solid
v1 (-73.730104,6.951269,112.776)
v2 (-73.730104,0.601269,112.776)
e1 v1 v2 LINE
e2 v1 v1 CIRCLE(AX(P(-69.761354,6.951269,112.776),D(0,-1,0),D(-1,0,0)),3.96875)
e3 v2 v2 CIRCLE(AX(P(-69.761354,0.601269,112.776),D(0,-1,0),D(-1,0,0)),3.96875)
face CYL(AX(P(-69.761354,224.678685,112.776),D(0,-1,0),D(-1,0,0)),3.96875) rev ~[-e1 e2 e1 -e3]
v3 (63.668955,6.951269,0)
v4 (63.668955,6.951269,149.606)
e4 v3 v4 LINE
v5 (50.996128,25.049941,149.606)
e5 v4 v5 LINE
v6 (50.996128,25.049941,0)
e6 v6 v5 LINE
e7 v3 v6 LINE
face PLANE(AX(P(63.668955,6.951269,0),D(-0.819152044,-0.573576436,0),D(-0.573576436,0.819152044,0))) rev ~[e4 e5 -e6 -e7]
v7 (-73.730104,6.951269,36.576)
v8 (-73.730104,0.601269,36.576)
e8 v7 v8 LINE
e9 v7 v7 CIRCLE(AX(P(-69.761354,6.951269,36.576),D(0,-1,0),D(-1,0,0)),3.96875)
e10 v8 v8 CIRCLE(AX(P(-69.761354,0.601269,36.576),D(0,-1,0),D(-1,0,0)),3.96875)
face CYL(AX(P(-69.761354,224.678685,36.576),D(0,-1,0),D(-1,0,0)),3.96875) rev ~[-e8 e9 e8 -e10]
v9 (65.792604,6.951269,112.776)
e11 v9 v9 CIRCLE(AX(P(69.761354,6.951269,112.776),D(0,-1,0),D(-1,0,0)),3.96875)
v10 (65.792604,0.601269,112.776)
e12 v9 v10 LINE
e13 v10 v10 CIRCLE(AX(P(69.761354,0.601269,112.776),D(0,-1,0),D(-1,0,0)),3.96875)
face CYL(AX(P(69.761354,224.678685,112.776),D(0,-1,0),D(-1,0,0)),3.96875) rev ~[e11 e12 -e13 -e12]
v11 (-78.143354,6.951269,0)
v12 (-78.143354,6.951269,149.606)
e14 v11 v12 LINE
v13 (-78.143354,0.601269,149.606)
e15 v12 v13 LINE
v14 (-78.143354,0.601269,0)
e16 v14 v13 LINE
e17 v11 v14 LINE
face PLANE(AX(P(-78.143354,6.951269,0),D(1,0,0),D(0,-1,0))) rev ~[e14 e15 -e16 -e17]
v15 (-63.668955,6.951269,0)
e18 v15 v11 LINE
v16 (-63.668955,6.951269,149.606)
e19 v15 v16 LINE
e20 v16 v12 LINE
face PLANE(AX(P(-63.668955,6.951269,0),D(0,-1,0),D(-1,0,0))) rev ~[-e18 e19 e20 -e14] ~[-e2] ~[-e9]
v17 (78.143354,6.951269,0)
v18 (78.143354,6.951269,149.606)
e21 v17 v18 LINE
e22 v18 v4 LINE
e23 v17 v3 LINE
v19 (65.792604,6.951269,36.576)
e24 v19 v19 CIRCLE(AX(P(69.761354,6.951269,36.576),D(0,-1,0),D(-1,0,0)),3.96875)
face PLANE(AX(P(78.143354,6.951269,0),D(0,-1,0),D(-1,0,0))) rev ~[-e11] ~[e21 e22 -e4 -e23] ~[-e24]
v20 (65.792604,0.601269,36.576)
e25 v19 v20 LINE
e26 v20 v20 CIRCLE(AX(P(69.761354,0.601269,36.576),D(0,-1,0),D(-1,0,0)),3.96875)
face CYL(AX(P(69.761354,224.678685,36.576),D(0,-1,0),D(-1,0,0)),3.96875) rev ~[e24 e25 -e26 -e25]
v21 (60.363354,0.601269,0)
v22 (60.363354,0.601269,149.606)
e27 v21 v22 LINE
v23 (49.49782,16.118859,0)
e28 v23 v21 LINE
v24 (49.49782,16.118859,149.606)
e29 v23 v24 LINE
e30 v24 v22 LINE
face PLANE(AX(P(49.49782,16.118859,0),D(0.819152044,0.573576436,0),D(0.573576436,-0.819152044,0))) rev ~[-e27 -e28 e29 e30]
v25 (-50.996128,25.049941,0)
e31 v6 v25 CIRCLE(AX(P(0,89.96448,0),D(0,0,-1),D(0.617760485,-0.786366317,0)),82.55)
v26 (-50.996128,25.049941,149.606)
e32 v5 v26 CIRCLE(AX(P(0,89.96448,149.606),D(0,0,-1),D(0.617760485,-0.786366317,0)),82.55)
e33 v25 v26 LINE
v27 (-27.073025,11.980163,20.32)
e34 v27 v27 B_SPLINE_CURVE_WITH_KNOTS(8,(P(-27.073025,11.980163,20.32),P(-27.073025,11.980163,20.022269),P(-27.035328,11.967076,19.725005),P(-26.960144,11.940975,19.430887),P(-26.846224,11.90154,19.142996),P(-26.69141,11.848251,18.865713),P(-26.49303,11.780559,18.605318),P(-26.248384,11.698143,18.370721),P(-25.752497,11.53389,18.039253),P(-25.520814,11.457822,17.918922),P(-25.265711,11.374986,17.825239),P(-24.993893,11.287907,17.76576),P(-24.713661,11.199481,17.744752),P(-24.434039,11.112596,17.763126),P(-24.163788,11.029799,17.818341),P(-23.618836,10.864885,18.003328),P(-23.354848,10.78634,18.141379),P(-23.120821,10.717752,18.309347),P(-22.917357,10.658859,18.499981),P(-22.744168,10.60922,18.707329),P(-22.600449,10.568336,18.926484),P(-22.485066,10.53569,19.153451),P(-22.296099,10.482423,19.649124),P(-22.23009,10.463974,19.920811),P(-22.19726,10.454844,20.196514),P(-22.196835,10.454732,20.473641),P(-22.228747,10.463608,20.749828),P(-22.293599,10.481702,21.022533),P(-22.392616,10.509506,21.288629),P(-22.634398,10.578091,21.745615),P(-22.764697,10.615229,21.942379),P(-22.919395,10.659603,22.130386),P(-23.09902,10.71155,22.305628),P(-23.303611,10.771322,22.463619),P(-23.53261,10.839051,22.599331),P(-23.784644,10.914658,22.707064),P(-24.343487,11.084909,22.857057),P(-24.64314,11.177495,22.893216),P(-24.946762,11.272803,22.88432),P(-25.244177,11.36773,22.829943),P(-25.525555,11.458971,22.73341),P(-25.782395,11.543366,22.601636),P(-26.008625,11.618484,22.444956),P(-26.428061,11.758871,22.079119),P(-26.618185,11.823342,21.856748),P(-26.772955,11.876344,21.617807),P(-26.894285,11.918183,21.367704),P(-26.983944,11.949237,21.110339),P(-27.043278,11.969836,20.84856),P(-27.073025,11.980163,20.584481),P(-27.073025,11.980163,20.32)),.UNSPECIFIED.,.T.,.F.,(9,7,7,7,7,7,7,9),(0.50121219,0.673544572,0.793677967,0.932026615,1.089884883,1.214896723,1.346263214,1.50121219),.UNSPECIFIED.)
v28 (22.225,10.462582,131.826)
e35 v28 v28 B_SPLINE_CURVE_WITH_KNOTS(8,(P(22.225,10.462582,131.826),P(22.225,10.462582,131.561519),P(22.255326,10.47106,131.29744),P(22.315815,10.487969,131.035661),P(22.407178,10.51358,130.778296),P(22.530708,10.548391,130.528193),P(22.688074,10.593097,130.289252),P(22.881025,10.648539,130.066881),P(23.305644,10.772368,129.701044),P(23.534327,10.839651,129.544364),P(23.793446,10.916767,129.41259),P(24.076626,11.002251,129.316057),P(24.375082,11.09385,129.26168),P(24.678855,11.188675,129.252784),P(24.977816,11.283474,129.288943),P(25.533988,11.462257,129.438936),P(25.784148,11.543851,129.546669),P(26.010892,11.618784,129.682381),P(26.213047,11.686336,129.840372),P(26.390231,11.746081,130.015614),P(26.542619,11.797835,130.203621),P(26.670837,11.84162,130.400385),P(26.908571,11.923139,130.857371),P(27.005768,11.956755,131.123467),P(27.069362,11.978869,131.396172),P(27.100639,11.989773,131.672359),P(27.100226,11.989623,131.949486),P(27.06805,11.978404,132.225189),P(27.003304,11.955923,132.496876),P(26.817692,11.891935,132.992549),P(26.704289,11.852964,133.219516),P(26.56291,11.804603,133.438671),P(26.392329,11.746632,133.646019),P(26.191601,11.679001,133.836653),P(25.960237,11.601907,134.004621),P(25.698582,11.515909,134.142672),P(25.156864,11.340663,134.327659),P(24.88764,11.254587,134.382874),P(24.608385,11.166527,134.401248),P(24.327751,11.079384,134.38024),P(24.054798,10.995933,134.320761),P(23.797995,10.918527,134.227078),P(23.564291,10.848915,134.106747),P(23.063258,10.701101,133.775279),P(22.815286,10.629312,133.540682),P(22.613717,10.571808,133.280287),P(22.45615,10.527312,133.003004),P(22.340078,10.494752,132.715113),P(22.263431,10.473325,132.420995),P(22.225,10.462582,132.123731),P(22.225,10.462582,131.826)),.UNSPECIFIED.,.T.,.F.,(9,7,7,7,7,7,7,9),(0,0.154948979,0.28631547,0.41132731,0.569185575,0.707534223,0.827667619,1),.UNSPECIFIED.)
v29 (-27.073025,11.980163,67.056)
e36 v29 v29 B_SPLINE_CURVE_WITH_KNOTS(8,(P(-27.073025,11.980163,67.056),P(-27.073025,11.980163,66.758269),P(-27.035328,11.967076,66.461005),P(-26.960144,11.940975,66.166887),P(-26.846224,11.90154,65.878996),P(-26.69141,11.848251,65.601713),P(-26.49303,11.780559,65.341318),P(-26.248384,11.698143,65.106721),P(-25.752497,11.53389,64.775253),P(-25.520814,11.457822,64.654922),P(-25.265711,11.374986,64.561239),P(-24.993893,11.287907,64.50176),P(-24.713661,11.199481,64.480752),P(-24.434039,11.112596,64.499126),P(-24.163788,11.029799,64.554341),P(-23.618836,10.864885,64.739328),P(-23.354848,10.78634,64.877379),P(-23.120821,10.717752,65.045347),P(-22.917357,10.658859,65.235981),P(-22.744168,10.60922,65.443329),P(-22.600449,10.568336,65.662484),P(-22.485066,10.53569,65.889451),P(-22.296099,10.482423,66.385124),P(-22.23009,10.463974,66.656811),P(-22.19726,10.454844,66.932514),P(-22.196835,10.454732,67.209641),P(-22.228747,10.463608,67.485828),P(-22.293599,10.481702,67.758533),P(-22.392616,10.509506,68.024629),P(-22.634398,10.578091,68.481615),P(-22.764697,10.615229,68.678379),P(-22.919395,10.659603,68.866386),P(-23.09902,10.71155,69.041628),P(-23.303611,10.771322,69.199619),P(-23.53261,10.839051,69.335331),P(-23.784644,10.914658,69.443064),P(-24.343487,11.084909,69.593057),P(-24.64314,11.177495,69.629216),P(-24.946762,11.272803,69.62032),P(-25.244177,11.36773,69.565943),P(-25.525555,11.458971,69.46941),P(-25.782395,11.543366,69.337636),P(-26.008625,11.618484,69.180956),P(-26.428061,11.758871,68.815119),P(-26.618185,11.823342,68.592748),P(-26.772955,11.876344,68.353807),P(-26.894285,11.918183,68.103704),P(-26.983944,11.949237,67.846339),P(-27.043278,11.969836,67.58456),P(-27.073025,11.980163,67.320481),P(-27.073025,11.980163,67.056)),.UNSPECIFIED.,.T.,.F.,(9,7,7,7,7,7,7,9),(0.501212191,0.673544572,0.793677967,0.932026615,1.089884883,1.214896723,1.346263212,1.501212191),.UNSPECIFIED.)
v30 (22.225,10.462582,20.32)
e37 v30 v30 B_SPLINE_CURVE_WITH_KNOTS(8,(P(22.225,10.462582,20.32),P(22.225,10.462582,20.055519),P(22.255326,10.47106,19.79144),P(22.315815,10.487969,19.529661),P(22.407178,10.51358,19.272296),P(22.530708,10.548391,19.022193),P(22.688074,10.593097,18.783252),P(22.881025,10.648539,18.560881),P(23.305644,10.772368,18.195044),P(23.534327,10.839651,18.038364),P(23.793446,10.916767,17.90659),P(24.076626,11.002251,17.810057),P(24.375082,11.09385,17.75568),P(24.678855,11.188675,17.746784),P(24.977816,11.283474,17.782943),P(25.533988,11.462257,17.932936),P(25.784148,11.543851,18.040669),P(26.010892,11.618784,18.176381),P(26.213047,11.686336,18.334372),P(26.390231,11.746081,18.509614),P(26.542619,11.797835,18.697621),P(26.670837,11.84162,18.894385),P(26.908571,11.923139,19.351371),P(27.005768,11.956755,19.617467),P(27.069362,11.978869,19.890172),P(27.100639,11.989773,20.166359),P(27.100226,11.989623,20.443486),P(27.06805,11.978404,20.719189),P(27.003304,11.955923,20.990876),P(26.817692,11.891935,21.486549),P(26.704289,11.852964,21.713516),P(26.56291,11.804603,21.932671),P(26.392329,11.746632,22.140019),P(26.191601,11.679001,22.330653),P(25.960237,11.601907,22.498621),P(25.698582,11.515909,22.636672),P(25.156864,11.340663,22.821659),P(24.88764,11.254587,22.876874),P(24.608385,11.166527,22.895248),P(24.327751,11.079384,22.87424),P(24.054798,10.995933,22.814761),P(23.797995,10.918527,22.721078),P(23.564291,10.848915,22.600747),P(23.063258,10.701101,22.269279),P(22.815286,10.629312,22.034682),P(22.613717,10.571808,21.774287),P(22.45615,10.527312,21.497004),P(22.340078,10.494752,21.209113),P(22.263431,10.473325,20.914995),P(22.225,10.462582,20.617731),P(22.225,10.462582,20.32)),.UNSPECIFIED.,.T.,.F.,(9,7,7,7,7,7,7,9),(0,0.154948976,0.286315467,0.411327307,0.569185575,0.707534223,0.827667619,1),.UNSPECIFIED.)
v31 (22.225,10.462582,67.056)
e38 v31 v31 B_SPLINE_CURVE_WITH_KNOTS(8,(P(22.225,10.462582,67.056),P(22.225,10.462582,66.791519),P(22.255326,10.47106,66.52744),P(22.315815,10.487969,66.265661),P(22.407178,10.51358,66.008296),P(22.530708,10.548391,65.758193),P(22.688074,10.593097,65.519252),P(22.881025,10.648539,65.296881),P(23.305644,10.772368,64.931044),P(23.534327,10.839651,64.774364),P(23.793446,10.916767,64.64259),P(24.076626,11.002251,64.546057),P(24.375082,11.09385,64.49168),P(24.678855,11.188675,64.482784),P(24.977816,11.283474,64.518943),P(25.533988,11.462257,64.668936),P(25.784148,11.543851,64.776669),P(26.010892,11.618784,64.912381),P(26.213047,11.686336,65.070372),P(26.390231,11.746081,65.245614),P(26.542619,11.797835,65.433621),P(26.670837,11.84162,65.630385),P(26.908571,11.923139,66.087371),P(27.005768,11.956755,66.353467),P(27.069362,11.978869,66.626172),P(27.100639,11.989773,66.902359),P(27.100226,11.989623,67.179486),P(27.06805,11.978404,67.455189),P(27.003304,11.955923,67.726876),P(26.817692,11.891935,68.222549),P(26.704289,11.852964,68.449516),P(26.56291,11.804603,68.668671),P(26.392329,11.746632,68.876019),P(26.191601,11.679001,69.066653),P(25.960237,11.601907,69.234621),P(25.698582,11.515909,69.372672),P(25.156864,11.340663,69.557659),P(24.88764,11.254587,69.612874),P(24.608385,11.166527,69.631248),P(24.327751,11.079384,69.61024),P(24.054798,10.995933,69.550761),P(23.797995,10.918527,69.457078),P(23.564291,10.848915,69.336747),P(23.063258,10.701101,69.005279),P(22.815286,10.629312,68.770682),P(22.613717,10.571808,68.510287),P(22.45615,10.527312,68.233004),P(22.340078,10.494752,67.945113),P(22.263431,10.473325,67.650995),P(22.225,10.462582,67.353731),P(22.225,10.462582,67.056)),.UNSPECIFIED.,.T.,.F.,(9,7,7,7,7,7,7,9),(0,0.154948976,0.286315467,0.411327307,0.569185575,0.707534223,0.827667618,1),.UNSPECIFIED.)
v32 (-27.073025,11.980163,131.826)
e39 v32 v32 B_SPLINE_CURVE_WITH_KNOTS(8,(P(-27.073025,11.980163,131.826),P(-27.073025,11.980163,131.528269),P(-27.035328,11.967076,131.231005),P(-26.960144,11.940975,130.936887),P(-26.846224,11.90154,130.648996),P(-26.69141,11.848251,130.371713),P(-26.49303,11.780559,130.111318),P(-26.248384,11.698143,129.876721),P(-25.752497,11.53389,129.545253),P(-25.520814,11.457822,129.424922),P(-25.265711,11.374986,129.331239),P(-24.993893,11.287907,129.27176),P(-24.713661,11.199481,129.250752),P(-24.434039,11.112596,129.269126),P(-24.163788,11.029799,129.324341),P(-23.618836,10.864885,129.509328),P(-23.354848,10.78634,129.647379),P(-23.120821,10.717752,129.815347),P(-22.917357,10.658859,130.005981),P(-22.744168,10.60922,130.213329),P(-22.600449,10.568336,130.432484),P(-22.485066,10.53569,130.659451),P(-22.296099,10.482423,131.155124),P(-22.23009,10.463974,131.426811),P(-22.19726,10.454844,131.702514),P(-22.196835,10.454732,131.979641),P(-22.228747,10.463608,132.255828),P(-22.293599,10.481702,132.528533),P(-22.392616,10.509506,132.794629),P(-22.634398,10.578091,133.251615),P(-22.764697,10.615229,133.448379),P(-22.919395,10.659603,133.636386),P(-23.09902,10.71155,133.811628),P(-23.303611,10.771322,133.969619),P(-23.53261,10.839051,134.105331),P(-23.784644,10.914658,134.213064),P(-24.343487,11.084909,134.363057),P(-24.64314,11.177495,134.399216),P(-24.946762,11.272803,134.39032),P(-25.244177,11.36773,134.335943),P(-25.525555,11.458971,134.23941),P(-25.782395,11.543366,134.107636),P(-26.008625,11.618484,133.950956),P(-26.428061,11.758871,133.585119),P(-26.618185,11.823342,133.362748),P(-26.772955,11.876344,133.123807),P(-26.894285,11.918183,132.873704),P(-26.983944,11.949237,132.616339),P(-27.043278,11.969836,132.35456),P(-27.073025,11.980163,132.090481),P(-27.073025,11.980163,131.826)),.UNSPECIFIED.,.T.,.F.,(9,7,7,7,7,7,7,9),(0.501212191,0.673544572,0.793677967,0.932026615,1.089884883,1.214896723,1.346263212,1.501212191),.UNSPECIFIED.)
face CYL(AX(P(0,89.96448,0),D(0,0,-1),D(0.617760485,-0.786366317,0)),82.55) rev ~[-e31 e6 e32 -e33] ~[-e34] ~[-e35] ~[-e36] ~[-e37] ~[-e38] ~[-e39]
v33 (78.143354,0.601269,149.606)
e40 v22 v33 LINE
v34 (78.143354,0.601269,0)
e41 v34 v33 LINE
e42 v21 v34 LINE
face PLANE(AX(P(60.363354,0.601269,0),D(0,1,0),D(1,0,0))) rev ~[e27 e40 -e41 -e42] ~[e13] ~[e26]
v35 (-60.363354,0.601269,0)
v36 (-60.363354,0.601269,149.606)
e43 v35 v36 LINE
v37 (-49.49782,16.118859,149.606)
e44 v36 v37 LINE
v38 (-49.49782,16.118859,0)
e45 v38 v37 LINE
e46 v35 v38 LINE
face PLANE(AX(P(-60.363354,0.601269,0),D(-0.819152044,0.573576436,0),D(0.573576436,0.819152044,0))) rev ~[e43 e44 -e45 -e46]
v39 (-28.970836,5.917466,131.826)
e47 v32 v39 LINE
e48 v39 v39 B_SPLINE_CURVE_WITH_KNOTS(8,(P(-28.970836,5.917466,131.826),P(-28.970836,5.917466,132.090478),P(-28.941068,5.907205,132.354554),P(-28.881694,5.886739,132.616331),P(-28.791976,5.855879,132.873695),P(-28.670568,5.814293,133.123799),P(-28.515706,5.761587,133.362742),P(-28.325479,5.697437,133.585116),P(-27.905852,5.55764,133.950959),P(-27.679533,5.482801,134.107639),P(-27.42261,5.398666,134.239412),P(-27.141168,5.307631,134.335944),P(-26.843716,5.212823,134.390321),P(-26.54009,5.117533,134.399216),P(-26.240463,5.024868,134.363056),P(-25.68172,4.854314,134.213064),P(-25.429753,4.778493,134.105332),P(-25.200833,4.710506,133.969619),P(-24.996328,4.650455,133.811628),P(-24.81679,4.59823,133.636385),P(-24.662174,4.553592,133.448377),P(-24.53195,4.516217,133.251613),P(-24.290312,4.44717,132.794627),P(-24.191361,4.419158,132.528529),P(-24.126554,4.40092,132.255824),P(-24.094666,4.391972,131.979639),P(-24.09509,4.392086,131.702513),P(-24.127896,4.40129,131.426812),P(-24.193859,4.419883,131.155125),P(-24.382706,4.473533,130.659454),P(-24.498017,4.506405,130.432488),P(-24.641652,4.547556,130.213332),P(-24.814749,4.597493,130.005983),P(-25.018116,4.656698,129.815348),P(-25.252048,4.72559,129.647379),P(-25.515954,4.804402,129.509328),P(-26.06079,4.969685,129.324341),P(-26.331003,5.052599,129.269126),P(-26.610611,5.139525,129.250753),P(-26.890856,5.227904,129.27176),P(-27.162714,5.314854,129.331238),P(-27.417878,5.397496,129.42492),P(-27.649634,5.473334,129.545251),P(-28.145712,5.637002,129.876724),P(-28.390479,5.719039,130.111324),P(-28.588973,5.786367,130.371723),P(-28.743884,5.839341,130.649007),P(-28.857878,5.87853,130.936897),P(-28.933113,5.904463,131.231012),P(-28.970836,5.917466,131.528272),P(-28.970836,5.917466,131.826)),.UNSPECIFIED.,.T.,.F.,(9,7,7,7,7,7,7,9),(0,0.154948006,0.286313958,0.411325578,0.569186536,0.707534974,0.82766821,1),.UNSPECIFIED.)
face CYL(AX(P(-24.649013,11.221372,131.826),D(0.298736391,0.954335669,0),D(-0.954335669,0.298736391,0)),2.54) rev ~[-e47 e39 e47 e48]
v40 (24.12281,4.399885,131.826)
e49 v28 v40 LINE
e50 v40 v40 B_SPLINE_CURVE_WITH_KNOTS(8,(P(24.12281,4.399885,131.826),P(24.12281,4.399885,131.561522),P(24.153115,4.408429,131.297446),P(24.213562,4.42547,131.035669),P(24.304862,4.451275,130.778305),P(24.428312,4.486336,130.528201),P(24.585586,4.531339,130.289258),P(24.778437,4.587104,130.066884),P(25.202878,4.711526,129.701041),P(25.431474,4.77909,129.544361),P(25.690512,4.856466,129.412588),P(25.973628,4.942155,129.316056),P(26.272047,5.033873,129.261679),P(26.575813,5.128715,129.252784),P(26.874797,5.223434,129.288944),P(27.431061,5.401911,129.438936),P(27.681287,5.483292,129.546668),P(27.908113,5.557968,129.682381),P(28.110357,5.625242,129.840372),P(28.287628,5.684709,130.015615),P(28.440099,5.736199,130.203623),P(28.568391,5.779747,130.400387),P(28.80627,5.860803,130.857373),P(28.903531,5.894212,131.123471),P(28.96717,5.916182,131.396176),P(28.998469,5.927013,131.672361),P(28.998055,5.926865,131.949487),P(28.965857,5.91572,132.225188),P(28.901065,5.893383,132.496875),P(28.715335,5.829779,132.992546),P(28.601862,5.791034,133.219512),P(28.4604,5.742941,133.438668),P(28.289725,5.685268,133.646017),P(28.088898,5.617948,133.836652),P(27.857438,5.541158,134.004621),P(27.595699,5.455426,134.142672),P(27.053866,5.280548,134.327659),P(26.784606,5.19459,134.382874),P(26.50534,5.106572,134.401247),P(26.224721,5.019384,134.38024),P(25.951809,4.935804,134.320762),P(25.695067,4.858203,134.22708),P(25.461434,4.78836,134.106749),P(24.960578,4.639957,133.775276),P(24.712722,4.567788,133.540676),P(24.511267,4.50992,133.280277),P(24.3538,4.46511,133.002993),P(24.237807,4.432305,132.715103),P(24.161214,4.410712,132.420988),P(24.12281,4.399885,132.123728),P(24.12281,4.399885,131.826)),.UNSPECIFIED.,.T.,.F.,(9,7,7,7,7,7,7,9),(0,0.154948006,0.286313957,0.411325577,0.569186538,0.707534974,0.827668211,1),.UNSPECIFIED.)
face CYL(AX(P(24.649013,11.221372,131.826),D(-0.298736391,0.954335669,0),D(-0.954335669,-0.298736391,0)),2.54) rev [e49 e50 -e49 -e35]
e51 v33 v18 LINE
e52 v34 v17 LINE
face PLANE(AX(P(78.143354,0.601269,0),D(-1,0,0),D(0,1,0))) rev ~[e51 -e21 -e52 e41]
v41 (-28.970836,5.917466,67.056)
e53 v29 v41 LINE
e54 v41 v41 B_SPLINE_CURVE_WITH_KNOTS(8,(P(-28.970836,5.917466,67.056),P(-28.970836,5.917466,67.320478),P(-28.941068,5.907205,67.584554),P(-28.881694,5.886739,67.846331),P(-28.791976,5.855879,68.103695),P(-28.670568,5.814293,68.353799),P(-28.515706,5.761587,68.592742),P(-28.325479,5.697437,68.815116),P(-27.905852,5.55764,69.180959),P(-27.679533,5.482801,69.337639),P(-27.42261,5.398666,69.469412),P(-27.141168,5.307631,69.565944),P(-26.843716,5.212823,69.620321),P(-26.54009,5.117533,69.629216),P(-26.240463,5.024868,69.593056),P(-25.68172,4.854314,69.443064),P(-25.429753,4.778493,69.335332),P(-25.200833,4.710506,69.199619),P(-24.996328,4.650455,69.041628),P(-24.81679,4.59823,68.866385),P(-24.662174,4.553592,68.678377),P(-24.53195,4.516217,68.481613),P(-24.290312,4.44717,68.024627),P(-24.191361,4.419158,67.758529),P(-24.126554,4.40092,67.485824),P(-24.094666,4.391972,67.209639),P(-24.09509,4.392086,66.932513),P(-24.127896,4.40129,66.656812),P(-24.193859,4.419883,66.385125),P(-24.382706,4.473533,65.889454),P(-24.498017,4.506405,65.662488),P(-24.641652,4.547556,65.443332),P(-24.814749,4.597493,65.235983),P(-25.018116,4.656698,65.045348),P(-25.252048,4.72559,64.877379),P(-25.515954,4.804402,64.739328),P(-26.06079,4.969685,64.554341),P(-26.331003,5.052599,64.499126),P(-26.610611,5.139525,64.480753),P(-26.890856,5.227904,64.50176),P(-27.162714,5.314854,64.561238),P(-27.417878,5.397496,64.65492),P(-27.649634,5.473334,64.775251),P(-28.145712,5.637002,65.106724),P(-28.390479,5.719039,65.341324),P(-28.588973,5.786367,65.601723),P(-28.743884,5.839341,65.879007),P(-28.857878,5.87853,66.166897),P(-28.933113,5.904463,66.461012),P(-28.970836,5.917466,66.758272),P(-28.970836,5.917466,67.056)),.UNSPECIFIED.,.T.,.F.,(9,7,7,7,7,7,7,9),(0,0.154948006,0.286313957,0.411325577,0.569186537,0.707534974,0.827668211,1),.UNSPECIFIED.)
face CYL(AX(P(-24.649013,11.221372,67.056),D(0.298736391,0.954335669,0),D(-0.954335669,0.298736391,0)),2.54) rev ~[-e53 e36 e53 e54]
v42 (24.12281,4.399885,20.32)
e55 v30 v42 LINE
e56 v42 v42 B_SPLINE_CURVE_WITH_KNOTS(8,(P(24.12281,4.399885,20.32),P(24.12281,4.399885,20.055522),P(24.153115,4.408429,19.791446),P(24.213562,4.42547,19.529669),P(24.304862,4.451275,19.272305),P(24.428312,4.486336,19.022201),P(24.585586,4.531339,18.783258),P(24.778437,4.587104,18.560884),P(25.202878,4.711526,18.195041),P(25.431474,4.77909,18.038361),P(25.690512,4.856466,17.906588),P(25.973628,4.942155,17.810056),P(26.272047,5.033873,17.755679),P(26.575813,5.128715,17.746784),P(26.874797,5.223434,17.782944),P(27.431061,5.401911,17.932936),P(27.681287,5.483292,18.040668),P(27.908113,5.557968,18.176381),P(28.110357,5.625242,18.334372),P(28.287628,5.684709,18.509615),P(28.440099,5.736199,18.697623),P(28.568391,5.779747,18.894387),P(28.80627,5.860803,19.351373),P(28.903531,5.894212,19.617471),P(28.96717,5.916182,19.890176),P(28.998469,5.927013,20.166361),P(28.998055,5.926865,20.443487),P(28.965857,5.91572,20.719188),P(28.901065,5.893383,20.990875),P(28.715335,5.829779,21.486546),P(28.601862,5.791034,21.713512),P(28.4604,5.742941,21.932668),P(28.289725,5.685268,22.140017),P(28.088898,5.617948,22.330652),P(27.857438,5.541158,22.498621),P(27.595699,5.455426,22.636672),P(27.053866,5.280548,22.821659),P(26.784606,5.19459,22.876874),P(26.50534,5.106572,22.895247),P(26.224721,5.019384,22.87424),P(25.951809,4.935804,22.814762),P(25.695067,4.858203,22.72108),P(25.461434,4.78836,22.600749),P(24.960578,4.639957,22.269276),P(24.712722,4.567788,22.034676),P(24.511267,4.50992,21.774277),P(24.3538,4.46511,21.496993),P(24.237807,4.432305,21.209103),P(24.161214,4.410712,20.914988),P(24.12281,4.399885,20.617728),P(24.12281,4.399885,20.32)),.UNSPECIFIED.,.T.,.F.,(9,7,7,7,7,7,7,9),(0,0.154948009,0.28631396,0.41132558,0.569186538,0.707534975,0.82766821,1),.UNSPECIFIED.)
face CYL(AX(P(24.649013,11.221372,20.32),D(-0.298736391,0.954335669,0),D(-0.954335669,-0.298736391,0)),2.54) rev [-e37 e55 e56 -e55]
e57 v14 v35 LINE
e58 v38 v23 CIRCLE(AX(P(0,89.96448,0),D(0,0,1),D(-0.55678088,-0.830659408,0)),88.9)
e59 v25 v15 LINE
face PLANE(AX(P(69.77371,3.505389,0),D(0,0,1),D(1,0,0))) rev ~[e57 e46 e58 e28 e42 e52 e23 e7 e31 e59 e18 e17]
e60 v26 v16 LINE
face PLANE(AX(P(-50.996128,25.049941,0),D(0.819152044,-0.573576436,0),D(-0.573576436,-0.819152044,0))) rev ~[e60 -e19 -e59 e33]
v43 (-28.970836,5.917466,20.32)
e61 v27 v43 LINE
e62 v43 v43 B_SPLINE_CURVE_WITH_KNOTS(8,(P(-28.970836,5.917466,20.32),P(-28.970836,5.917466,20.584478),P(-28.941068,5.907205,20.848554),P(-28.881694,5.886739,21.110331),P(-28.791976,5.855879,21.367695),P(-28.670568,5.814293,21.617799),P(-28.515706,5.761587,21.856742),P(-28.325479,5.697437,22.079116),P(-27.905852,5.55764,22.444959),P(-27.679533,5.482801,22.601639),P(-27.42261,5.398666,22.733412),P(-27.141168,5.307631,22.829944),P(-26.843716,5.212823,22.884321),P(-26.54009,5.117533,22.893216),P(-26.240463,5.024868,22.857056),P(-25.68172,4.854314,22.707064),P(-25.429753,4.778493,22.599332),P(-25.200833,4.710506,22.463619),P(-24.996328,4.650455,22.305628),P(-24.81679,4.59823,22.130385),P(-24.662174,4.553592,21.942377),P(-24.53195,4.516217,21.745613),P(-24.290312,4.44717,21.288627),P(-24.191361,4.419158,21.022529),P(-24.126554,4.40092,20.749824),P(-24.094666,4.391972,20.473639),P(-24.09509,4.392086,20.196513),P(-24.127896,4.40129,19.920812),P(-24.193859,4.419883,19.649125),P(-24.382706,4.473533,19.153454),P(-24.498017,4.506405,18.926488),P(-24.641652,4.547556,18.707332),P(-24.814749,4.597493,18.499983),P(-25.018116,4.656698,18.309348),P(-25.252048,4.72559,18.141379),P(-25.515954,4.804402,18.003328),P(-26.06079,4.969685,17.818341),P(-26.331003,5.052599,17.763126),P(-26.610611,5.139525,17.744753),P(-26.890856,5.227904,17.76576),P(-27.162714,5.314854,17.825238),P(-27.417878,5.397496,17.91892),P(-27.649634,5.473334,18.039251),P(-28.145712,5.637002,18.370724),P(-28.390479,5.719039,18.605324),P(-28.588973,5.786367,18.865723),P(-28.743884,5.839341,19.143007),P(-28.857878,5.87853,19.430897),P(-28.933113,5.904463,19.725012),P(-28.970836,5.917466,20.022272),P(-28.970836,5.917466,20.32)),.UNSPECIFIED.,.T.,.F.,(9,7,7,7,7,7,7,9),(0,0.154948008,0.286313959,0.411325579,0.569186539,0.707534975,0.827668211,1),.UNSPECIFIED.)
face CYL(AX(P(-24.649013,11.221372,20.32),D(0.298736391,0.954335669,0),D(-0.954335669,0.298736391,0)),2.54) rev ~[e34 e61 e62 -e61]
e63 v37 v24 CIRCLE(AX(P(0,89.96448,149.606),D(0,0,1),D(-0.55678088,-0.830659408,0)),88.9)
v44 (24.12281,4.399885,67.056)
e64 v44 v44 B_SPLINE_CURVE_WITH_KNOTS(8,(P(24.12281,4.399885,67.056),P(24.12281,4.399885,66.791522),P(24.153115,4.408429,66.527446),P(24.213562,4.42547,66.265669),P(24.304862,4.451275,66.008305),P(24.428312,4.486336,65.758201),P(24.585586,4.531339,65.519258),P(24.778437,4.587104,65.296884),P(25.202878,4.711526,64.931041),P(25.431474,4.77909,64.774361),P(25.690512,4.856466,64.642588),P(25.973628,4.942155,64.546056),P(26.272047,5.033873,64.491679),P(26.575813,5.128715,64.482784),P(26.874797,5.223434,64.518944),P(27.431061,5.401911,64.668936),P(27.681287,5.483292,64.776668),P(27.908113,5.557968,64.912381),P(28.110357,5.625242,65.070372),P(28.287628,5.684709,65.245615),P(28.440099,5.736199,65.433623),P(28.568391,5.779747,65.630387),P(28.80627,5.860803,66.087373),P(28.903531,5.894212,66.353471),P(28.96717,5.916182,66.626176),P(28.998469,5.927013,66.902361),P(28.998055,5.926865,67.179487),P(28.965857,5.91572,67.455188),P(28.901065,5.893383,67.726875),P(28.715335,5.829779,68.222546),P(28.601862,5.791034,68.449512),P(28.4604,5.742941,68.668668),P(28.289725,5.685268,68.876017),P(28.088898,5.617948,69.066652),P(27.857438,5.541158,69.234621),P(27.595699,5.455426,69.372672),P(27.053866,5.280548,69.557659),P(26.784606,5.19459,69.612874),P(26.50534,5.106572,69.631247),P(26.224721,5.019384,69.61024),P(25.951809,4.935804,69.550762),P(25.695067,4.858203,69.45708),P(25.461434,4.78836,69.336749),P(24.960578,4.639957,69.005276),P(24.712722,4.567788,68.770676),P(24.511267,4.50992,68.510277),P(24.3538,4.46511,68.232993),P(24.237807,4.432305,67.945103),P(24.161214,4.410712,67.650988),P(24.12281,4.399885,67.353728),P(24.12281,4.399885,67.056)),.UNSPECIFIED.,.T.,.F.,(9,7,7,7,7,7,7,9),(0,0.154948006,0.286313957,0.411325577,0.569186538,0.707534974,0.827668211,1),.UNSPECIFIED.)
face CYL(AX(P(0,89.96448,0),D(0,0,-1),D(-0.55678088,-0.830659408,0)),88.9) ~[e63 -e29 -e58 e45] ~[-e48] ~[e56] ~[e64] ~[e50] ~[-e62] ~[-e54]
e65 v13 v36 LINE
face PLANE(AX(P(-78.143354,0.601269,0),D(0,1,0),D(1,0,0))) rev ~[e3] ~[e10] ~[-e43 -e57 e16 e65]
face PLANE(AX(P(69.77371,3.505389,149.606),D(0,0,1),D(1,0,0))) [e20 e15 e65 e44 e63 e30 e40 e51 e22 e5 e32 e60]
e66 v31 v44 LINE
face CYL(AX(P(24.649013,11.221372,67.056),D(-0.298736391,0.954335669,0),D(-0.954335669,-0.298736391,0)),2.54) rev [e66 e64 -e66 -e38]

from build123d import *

# Parameters (mm, degrees)
BOSS_EXTRUDE1_DEPTH         = 149.606
SKETCH5_R                   = 2.54
CUT_EXTRUDE1_DEPTH          = 25.4
SKETCH4_R                   = 2.54
CUT_EXTRUDE2_DEPTH          = 25.4
TAP_DRILL_FOR_3_8_16_TAP1_D = 7.9375


with BuildPart() as part:
    # Sketch1 → Boss-Extrude1 (new body)
    with BuildSketch(Plane.XY):
        with BuildLine():
            Line((-63.668954771, 6.951268616), (-78.143354, 6.951268616))
            Line((-78.143354, 6.951268616), (-78.143354, 0.601268616))
            Line((-78.143354, 0.601268616), (-60.363354, 0.601268616))
            Line((-60.363354, 0.601268616), (-49.49782024, 16.118858997))
            ThreePointArc((-49.49782024, 16.118858997), (0, 1.06448034), (49.49782024, 16.118858997))
            Line((49.49782024, 16.118858997), (60.363354, 0.601268616))
            Line((60.363354, 0.601268616), (78.143354, 0.601268616))
            Line((78.143354, 0.601268616), (78.143354, 6.951268616))
            Line((78.143354, 6.951268616), (63.668954771, 6.951268616))
            Line((63.668954771, 6.951268616), (50.996127998, 25.049940912))
            ThreePointArc((50.996127998, 25.049940912), (0, 7.41448034), (-50.996127998, 25.049940912))
            Line((-50.996127998, 25.049940912), (-63.668954771, 6.951268616))
        make_face()
    extrude(amount=BOSS_EXTRUDE1_DEPTH)

    # Sketch5 → Cut-Extrude1 (cut)
    with BuildSketch(Plane(origin=(0.999392331, 3.192633299, 0), x_dir=(0.9543356688296087, -0.29873639081896847, 0), z_dir=(0.29873639081896847, 0.9543356688296087, 0))):
        with Locations((-26.875664159, -20.32)):
            Circle(SKETCH5_R)
        with Locations((-26.875664159, -67.056)):
            Circle(SKETCH5_R)
        with Locations((-26.875664159, -131.826)):
            Circle(SKETCH5_R)
    extrude(amount=-CUT_EXTRUDE1_DEPTH, mode=Mode.SUBTRACT)

    # Sketch4 → Cut-Extrude2 (cut)
    with BuildSketch(Plane(origin=(-0.999392331, 3.192633299, 0), x_dir=(-0.9543356688296079, -0.2987363908189716, 0), z_dir=(0.2987363908189716, -0.9543356688296079, 0))):
        with Locations((-26.875664159, -131.826)):
            Circle(SKETCH4_R)
        with Locations((-26.875664159, -67.056)):
            Circle(SKETCH4_R)
        with Locations((-26.875664159, -20.32)):
            Circle(SKETCH4_R)
    extrude(amount=CUT_EXTRUDE2_DEPTH, mode=Mode.SUBTRACT)

    # Tap Drill for 3/8-16 Tap1 (through all)
    with Locations(Plane(origin=(0, 6.951268616, 0), x_dir=(1, 0, 0), z_dir=(0, 1, 0))):
        with Locations((-69.761354, -112.776), (-69.761354, -36.576), (69.761354, -112.776), (69.761354, -36.576)):
            Hole(TAP_DRILL_FOR_3_8_16_TAP1_D / 2)


solid = part.part
